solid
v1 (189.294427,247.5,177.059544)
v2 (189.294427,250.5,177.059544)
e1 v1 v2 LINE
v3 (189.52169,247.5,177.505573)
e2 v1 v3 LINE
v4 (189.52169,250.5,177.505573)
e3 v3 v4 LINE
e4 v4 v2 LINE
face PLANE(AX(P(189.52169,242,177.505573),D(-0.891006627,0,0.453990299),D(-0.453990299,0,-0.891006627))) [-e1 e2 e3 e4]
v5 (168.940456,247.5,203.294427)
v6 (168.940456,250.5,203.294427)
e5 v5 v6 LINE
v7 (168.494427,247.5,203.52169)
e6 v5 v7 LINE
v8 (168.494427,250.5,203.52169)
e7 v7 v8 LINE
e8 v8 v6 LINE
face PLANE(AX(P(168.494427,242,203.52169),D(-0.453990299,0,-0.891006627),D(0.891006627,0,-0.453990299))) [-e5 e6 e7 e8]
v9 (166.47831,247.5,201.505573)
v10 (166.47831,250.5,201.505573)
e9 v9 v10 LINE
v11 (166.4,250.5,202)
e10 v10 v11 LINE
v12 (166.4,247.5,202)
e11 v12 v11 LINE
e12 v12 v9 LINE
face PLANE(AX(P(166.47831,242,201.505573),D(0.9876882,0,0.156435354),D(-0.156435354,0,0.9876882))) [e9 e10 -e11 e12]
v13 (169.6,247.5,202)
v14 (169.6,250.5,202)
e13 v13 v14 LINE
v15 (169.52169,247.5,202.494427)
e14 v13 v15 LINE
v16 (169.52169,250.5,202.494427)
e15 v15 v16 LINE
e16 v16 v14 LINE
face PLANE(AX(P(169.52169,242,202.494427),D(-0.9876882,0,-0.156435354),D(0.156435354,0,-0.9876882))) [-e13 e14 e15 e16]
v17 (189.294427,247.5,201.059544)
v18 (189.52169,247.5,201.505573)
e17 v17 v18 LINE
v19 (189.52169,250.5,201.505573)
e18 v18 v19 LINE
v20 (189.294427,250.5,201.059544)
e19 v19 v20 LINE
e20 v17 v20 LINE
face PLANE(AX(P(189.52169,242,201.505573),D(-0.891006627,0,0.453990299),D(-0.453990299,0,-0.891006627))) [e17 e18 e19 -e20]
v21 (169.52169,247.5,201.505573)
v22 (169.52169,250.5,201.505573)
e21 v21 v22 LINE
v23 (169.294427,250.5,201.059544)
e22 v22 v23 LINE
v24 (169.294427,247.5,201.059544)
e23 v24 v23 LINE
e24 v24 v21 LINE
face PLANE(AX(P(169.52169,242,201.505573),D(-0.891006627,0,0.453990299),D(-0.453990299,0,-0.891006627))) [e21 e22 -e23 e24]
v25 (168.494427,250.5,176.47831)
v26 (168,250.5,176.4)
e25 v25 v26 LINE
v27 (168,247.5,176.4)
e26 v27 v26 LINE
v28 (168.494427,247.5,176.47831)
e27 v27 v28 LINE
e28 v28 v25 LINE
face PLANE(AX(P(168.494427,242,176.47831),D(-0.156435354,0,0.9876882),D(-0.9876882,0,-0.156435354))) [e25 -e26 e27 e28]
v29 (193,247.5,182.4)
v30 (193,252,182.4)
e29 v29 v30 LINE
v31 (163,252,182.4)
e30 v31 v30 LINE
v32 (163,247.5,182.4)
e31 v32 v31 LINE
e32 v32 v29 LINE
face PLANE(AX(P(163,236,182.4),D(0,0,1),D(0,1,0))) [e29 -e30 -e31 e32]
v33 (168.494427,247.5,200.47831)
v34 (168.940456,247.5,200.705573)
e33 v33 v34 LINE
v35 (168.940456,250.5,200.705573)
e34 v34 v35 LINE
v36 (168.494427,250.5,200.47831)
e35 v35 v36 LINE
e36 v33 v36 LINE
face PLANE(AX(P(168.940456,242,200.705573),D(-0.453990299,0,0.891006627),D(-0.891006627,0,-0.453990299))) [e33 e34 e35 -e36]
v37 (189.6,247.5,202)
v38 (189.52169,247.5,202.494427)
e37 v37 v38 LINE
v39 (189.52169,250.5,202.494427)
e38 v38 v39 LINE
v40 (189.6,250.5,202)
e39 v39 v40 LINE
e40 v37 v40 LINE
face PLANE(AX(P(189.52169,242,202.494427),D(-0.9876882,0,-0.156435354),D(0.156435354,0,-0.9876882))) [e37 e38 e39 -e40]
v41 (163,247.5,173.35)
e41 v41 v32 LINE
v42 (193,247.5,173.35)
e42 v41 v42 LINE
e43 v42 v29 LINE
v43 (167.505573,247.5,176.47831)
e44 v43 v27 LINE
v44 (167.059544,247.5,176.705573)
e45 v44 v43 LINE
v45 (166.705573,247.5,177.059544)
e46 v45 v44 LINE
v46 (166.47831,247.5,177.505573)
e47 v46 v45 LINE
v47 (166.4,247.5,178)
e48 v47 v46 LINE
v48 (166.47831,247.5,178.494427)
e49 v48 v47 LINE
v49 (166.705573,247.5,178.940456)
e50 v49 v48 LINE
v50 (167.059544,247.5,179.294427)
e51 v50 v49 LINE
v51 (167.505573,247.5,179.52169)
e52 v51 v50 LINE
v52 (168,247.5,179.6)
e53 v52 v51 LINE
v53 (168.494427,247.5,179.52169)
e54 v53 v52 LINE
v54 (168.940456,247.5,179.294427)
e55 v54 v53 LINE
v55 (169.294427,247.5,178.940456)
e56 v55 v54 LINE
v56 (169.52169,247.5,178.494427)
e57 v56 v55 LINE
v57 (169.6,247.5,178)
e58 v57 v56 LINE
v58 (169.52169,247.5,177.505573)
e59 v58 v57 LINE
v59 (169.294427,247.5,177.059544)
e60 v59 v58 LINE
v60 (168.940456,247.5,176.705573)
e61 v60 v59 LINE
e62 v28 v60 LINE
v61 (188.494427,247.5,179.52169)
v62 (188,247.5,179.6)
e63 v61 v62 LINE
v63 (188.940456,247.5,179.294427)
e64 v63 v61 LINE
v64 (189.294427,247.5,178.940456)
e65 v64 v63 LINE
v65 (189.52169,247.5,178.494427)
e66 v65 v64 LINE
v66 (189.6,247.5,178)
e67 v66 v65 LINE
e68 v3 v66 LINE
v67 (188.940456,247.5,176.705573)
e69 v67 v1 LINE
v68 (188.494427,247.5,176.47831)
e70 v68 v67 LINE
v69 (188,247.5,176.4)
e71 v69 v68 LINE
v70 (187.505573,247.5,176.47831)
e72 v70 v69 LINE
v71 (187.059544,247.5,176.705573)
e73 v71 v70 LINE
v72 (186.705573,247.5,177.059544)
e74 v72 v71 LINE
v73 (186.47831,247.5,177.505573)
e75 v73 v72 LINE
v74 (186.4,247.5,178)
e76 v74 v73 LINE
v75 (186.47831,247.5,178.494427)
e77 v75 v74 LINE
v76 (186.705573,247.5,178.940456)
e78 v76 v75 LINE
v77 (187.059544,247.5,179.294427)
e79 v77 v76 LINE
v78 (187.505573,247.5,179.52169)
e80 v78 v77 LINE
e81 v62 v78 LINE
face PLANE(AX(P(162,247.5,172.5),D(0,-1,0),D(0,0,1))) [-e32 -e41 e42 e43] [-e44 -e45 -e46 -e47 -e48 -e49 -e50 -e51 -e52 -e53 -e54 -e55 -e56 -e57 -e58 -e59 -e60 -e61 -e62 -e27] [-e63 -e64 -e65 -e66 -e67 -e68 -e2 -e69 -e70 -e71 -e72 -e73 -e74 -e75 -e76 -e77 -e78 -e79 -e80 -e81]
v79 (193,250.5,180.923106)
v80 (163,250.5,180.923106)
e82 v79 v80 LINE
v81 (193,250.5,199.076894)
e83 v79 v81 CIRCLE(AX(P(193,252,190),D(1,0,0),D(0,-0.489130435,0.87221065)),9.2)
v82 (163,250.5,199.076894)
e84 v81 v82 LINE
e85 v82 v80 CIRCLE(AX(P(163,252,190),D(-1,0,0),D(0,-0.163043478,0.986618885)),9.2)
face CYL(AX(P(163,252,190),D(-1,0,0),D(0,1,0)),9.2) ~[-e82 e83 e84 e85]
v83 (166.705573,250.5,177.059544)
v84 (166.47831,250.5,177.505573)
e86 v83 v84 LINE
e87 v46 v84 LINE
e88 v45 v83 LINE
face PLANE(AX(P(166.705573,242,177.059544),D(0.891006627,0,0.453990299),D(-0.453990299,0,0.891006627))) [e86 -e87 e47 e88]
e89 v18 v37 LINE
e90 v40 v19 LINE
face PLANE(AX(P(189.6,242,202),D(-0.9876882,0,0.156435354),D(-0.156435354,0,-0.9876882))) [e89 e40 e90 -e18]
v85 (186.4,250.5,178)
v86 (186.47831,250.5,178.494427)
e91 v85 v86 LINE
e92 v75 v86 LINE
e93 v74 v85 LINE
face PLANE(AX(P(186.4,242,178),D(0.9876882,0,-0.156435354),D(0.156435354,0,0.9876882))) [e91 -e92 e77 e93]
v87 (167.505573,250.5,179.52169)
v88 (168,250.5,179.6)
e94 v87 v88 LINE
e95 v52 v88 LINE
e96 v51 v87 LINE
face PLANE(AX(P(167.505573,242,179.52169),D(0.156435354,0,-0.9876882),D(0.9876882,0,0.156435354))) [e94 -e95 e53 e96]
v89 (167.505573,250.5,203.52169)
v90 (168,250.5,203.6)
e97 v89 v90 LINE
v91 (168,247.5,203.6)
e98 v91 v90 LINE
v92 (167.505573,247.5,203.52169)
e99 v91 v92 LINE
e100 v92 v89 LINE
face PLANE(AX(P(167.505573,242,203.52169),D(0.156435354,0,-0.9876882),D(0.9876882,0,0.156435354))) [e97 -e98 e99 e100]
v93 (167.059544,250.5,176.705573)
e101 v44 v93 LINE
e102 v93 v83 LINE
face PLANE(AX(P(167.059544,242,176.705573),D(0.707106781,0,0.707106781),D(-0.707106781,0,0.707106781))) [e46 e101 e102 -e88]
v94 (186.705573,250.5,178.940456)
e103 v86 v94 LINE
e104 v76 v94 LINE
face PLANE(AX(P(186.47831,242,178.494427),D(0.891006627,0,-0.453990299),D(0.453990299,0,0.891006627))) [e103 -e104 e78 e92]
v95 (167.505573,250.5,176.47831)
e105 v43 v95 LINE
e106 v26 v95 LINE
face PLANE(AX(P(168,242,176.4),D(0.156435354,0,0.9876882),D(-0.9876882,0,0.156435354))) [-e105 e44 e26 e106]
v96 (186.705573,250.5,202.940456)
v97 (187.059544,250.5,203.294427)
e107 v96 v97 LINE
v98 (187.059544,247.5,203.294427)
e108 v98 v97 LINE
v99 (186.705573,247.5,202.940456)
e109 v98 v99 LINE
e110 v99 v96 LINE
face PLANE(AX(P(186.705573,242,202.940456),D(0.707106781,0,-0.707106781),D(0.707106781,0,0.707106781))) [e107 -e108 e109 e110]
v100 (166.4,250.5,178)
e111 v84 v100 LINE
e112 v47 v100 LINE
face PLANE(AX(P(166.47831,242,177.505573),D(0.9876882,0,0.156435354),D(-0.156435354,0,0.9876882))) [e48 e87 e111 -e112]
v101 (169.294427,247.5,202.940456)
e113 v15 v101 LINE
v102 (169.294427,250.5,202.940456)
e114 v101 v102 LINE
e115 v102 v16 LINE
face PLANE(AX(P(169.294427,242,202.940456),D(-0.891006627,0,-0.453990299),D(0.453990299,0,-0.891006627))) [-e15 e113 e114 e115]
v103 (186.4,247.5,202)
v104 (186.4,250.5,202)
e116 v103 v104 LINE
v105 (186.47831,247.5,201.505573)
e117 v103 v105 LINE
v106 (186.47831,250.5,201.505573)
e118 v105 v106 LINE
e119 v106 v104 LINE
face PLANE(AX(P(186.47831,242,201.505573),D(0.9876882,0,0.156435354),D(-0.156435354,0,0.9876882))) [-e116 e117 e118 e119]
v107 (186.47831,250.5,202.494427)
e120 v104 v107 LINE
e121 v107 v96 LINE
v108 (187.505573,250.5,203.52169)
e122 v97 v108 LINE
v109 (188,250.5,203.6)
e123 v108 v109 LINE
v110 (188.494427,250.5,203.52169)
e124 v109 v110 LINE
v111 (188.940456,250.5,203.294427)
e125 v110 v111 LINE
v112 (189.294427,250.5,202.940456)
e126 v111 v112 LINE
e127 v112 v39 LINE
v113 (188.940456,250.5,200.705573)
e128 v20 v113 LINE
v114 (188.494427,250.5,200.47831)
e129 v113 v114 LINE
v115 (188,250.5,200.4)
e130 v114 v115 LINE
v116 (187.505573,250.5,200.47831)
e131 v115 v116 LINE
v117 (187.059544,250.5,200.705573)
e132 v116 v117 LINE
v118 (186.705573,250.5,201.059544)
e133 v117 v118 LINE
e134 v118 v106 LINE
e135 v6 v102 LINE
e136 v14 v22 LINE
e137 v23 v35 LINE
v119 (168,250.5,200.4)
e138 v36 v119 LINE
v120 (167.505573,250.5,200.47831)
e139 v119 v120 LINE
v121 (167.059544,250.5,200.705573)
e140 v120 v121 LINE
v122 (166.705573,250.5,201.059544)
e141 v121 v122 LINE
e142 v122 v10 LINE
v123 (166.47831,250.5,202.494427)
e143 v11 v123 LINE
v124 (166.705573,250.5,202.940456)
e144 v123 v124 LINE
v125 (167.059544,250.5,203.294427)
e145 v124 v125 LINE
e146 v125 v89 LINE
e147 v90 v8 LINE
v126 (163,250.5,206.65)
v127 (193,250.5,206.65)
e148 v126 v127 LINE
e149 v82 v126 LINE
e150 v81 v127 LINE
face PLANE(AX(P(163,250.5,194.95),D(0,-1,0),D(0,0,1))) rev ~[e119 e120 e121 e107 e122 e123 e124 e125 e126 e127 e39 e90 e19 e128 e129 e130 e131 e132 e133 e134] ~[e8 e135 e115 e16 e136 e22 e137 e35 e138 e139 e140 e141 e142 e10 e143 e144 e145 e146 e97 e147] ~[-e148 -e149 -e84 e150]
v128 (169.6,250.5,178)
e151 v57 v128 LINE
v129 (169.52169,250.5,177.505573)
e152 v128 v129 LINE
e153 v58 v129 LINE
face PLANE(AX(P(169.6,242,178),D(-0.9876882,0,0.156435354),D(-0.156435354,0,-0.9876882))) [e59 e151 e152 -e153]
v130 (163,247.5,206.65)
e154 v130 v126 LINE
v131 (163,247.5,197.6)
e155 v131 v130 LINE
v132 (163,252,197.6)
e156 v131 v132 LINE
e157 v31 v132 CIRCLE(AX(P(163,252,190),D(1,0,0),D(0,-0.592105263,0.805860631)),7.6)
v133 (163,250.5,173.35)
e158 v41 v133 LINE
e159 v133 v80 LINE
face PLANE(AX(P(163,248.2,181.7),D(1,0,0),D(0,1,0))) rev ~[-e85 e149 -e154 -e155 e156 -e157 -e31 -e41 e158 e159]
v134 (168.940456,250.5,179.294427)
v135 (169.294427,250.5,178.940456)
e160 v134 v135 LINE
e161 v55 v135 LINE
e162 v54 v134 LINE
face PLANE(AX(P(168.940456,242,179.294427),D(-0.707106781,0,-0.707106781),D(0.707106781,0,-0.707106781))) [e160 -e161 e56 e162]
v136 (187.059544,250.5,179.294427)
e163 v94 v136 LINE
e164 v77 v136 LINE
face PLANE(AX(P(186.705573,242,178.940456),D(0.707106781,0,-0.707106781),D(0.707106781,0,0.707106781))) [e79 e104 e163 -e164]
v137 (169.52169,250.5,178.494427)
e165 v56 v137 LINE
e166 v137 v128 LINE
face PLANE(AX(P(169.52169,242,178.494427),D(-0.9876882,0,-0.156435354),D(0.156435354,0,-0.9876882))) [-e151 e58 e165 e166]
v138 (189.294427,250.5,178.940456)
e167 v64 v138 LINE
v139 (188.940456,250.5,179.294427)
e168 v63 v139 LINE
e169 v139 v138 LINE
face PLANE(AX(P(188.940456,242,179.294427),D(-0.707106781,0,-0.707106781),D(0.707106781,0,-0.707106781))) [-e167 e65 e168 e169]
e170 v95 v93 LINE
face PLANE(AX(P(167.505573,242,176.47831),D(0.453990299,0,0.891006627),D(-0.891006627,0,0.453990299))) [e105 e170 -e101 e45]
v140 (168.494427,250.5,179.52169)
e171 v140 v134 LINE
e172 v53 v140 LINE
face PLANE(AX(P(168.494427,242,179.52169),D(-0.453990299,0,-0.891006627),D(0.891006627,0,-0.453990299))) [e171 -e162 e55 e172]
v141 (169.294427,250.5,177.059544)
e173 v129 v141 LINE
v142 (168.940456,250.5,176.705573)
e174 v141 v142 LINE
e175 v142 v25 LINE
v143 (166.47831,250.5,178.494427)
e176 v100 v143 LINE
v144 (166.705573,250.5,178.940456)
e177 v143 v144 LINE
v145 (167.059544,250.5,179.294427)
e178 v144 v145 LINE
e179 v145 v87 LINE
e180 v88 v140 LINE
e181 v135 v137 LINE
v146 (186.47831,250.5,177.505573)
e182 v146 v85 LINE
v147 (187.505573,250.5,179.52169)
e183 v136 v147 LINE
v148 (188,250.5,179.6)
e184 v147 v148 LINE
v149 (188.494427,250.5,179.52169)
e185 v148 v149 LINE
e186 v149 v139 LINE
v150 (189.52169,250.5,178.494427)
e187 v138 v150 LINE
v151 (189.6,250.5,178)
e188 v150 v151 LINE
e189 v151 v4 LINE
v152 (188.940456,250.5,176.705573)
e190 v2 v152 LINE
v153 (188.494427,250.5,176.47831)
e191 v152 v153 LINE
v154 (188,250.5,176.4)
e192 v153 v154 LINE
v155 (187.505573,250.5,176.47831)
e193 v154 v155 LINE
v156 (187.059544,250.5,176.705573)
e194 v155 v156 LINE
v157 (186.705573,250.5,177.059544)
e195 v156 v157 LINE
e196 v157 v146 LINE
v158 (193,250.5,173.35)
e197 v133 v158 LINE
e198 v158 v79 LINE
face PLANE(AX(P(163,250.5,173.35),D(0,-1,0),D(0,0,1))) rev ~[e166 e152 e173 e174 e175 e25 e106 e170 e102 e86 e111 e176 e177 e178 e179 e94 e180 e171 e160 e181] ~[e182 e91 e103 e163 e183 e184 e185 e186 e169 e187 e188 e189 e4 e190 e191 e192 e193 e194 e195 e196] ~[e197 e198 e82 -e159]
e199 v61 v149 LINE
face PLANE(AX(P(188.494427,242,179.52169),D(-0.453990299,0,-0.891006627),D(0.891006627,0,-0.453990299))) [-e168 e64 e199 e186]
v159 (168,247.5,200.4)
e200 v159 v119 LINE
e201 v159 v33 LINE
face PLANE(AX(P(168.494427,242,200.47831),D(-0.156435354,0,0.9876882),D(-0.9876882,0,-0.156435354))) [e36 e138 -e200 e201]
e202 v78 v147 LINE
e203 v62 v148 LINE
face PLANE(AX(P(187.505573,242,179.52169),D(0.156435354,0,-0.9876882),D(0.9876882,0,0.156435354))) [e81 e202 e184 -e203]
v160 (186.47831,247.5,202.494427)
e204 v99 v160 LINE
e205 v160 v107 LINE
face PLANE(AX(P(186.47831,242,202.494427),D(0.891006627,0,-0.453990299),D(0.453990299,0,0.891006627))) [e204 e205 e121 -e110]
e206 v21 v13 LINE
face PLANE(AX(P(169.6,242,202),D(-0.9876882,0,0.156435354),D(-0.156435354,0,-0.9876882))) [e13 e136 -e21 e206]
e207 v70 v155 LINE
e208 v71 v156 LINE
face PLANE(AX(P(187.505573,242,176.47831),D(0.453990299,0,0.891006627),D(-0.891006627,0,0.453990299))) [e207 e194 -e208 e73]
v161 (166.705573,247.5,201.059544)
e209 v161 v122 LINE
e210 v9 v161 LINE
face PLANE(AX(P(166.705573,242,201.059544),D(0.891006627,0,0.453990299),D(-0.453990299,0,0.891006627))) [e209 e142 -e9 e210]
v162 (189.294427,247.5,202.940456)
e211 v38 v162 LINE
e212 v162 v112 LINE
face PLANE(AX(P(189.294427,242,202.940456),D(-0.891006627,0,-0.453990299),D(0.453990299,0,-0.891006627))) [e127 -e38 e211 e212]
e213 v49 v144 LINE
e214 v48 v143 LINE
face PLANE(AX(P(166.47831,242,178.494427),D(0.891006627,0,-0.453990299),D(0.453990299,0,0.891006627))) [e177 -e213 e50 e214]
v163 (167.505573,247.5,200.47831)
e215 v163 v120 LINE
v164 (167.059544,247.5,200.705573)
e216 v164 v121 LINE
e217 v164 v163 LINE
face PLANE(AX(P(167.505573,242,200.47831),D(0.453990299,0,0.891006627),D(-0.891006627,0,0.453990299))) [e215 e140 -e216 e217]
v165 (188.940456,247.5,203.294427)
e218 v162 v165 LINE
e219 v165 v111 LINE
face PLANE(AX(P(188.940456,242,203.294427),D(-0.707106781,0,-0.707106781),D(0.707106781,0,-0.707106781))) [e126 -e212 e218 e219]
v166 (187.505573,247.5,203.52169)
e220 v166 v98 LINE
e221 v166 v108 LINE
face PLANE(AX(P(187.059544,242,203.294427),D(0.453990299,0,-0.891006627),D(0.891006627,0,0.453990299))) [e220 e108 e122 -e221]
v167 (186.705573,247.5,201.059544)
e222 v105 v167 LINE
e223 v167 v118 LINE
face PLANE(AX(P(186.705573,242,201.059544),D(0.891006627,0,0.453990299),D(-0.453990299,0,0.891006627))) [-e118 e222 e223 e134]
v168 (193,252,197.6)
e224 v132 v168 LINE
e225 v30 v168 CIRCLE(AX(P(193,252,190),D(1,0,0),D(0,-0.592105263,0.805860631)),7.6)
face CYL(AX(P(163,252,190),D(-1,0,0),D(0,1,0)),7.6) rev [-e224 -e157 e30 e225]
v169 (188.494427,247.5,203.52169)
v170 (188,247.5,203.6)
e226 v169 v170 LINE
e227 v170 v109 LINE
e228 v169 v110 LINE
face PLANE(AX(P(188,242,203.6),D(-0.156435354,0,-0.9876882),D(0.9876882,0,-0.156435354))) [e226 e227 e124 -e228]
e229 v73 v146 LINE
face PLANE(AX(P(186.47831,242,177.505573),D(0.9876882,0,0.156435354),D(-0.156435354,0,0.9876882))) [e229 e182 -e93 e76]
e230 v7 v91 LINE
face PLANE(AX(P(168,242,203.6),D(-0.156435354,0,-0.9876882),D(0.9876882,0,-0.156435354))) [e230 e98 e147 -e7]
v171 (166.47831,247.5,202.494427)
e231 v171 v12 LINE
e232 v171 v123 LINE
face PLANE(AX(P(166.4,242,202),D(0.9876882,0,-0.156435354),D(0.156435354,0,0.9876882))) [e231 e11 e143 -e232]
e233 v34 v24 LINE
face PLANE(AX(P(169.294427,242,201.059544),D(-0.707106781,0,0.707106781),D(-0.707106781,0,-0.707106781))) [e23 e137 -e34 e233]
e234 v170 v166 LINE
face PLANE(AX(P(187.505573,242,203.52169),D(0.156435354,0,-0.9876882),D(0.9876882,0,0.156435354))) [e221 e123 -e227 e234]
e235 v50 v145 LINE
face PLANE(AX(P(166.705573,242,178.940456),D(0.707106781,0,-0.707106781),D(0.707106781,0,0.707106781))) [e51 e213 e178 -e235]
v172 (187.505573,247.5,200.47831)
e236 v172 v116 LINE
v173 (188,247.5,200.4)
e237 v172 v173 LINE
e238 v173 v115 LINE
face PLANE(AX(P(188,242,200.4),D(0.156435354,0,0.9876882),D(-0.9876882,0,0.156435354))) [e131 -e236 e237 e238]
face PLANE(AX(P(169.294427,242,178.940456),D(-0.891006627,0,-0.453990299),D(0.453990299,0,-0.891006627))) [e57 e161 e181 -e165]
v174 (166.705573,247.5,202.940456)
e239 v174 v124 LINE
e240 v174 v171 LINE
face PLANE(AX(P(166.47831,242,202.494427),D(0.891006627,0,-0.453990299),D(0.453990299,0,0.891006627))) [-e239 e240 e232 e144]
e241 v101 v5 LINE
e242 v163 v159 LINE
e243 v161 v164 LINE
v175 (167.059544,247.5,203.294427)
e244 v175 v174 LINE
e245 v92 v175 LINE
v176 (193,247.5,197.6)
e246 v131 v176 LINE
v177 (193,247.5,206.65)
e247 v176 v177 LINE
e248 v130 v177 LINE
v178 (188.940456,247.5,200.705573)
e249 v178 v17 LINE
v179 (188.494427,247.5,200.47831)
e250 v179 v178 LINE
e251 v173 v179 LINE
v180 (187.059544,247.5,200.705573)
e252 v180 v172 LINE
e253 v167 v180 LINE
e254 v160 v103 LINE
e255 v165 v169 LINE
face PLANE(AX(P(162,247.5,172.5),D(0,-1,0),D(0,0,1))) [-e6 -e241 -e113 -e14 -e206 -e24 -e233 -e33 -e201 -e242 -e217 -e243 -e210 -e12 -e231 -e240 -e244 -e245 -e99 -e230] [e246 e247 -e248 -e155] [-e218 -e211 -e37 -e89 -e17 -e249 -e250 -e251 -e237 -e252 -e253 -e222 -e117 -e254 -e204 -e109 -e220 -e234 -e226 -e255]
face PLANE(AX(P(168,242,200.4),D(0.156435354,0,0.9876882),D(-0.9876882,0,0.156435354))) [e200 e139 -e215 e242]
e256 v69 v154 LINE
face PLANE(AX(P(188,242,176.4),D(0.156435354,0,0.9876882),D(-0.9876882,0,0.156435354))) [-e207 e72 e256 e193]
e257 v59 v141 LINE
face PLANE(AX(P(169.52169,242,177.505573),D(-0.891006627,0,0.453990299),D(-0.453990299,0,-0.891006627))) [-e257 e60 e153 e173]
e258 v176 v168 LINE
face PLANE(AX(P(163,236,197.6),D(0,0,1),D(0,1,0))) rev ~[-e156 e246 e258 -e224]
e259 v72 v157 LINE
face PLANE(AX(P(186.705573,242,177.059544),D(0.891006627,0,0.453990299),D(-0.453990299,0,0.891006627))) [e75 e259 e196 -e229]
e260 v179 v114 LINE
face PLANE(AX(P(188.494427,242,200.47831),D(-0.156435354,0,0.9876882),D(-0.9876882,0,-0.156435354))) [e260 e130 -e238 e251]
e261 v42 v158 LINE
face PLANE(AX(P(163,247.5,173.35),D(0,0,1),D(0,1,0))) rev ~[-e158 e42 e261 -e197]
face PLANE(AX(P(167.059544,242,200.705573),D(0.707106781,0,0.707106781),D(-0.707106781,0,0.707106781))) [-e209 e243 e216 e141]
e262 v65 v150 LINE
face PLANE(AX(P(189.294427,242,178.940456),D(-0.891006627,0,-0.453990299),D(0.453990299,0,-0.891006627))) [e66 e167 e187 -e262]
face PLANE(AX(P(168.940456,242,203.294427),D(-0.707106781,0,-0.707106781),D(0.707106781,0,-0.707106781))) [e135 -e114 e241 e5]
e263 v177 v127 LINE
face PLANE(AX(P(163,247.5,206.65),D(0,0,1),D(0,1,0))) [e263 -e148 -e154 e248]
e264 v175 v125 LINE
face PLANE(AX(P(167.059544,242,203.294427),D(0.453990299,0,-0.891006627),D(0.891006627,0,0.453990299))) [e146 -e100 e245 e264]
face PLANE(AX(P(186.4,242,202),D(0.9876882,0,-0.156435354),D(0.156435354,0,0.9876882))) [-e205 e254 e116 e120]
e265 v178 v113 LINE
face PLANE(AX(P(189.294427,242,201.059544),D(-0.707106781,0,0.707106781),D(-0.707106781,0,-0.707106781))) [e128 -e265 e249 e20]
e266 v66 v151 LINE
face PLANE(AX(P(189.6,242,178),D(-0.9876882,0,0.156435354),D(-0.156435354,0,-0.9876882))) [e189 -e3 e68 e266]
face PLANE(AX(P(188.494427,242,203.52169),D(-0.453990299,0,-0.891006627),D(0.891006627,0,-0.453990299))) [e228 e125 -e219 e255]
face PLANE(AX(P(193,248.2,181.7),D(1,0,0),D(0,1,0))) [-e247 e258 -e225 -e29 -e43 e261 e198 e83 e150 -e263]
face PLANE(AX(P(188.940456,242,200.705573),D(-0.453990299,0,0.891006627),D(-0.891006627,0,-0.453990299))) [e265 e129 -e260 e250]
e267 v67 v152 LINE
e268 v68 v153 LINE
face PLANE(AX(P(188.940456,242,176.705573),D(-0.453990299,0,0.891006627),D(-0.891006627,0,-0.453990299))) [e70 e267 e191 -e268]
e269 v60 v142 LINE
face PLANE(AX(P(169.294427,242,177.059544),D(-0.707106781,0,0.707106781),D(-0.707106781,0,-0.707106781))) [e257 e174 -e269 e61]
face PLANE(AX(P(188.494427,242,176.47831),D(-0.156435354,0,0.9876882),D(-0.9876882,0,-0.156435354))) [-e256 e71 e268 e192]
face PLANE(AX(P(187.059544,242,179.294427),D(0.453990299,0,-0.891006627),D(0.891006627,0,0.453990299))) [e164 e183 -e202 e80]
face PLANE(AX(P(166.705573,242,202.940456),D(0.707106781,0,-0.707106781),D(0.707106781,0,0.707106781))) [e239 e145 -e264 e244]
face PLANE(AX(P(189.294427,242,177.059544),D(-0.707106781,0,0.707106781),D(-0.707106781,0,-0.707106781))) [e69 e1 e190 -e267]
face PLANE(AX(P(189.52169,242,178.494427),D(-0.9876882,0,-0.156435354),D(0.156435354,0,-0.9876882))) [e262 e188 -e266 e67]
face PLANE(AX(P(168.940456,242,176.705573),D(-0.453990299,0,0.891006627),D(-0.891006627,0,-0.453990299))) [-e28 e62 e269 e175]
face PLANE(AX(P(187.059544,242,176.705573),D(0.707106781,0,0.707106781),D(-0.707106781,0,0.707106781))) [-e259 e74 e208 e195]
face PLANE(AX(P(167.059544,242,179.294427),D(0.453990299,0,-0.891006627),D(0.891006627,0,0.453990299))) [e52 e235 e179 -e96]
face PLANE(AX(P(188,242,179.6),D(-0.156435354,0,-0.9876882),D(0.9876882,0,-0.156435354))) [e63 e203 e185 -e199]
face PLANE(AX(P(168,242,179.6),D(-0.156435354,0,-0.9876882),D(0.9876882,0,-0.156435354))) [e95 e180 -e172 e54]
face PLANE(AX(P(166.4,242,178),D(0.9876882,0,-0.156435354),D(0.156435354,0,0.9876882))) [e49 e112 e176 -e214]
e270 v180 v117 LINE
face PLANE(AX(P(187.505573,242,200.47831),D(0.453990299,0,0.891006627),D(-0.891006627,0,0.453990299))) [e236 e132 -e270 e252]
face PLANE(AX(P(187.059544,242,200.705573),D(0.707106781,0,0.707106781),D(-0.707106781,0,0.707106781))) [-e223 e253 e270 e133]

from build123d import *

# Parameters (mm, degrees)
PRISM058_DEPTH                = 10
PRISM058_PITCH_ANGLE          = 90
PRISM059_DEPTH                = 10
PRISM059_PITCH_ANGLE          = 90
PRISM060_DEPTH                = 10
PRISM060_PITCH_ANGLE          = 90
PRISM061_DEPTH                = 10
PRISM061_PITCH_ANGLE          = 90
CUBE064_W                     = 5
CUBE064_H                     = 35
CUBE064_DEPTH                 = 32
CUBE063_W                     = 16
CUBE063_H                     = 15.2
CUBE063_DEPTH                 = 30
CUBE059_W                     = 3
CUBE059_H                     = 11.7
CUBE059_DEPTH                 = 30
CUBE060_W                     = 3
CUBE060_H                     = 11.7
CUBE060_DEPTH                 = 30
CUBE061_W                     = 1.6
CUBE061_H                     = 1.6
CUBE061_DEPTH                 = 30
CUBE062_W                     = 1.6
CUBE062_H                     = 1.6
CUBE062_DEPTH                 = 30
CYLINDER015_R                 = 7.6
CYLINDER015_DEPTH             = 30
CYLINDER014_R                 = 9.2
CYLINDER014_DEPTH             = 30
DIFFERENCE044_ROLL_ANGLE      = 90
DIFFERENCE044_PLACEMENT_ANGLE = 90


with BuildPart() as prism058:
    # prism058 → prism058 (new body)
    with BuildSketch(Plane.XY):
        Polygon((1.6, 0), (1.52169, 0.494427), (1.294427, 0.940456), (0.940456, 1.294427), (0.494427, 1.52169), (0, 1.6), (-0.494427, 1.52169), (-0.940456, 1.294427), (-1.294427, 0.940456), (-1.52169, 0.494427), (-1.6, 0), (-1.52169, -0.494427), (-1.294427, -0.940456), (-0.940456, -1.294427), (-0.494427, -1.52169), (0, -1.6), (0.494427, -1.52169), (0.940456, -1.294427), (1.294427, -0.940456), (1.52169, -0.494427), align=None)
    extrude(amount=PRISM058_DEPTH)


with BuildPart() as prism058_1:
    # prism058 pitch: moved
    add(prism058.part.rotate(Axis((0, 0, 0), (0, 1, 0)), PRISM058_PITCH_ANGLE))


with BuildPart() as prism058_2:
    # prism058 placement: moved
    add(prism058_1.part.moved(Location((-10, 12, 10))))


with BuildPart() as prism059:
    # prism059 → prism059 (new body)
    with BuildSketch(Plane.XY):
        Polygon((1.6, 0), (1.52169, 0.494427), (1.294427, 0.940456), (0.940456, 1.294427), (0.494427, 1.52169), (0, 1.6), (-0.494427, 1.52169), (-0.940456, 1.294427), (-1.294427, 0.940456), (-1.52169, 0.494427), (-1.6, 0), (-1.52169, -0.494427), (-1.294427, -0.940456), (-0.940456, -1.294427), (-0.494427, -1.52169), (0, -1.6), (0.494427, -1.52169), (0.940456, -1.294427), (1.294427, -0.940456), (1.52169, -0.494427), align=None)
    extrude(amount=PRISM059_DEPTH)


with BuildPart() as prism059_1:
    # prism059 pitch: moved
    add(prism059.part.rotate(Axis((0, 0, 0), (0, 1, 0)), PRISM059_PITCH_ANGLE))


with BuildPart() as prism059_2:
    # prism059 placement: moved
    add(prism059_1.part.moved(Location((-10, 12, -10))))


with BuildPart() as prism060:
    # prism060 → prism060 (new body)
    with BuildSketch(Plane.XY):
        Polygon((1.6, 0), (1.52169, 0.494427), (1.294427, 0.940456), (0.940456, 1.294427), (0.494427, 1.52169), (0, 1.6), (-0.494427, 1.52169), (-0.940456, 1.294427), (-1.294427, 0.940456), (-1.52169, 0.494427), (-1.6, 0), (-1.52169, -0.494427), (-1.294427, -0.940456), (-0.940456, -1.294427), (-0.494427, -1.52169), (0, -1.6), (0.494427, -1.52169), (0.940456, -1.294427), (1.294427, -0.940456), (1.52169, -0.494427), align=None)
    extrude(amount=PRISM060_DEPTH)


with BuildPart() as prism060_1:
    # prism060 pitch: moved
    add(prism060.part.rotate(Axis((0, 0, 0), (0, 1, 0)), PRISM060_PITCH_ANGLE))


with BuildPart() as prism060_2:
    # prism060 placement: moved
    add(prism060_1.part.moved(Location((-10, -12, 10))))


with BuildPart() as prism061:
    # prism061 → prism061 (new body)
    with BuildSketch(Plane.XY):
        Polygon((1.6, 0), (1.52169, 0.494427), (1.294427, 0.940456), (0.940456, 1.294427), (0.494427, 1.52169), (0, 1.6), (-0.494427, 1.52169), (-0.940456, 1.294427), (-1.294427, 0.940456), (-1.52169, 0.494427), (-1.6, 0), (-1.52169, -0.494427), (-1.294427, -0.940456), (-0.940456, -1.294427), (-0.494427, -1.52169), (0, -1.6), (0.494427, -1.52169), (0.940456, -1.294427), (1.294427, -0.940456), (1.52169, -0.494427), align=None)
    extrude(amount=PRISM061_DEPTH)


with BuildPart() as prism061_1:
    # prism061 pitch: moved
    add(prism061.part.rotate(Axis((0, 0, 0), (0, 1, 0)), PRISM061_PITCH_ANGLE))


with BuildPart() as prism061_2:
    # prism061 placement: moved
    add(prism061_1.part.moved(Location((-10, -12, -10))))


with BuildPart() as cube064:
    # cube064 → cube064 (new body)
    with BuildSketch(Plane(origin=(-9.5, -17.5, -16), x_dir=(1, 0, 0), z_dir=(0, 0, 1))):
        with Locations((2.5, 17.5)):
            Rectangle(CUBE064_W, CUBE064_H)
    extrude(amount=CUBE064_DEPTH)


with BuildPart() as union032:
    # cube063 → cube063 (new body)
    with BuildSketch(Plane(origin=(-16, -7.6, -15), x_dir=(1, 0, 0), z_dir=(0, 0, 1))):
        with Locations((8, 7.6)):
            Rectangle(CUBE063_W, CUBE063_H)
    extrude(amount=CUBE063_DEPTH)

    # union032: union prism058, prism059, prism060, prism061, cube064
    add(prism058_2.part)
    add(prism059_2.part)
    add(prism060_2.part)
    add(prism061_2.part)
    add(cube064.part)


with BuildPart() as cube059:
    # cube059 → cube059 (new body)
    with BuildSketch(Plane(origin=(-4.5, 4.95, -15), x_dir=(1, 0, 0), z_dir=(0, 0, 1))):
        with Locations((1.5, 5.85)):
            Rectangle(CUBE059_W, CUBE059_H)
    extrude(amount=CUBE059_DEPTH)


with BuildPart() as cube060:
    # cube060 → cube060 (new body)
    with BuildSketch(Plane(origin=(-4.5, -16.65, -15), x_dir=(1, 0, 0), z_dir=(0, 0, 1))):
        with Locations((1.5, 5.85)):
            Rectangle(CUBE060_W, CUBE060_H)
    extrude(amount=CUBE060_DEPTH)


with BuildPart() as cube061:
    # cube061 → cube061 (new body)
    with BuildSketch(Plane(origin=(-4.6, 7.5, -15), x_dir=(1, 0, 0), z_dir=(0, 0, 1))):
        with Locations((0.8, 0.8)):
            Rectangle(CUBE061_W, CUBE061_H)
    extrude(amount=CUBE061_DEPTH)


with BuildPart() as cube062:
    # cube062 → cube062 (new body)
    with BuildSketch(Plane(origin=(-4.6, -9.1, -15), x_dir=(1, 0, 0), z_dir=(0, 0, 1))):
        with Locations((0.8, 0.8)):
            Rectangle(CUBE062_W, CUBE062_H)
    extrude(amount=CUBE062_DEPTH)


with BuildPart() as cylinder015:
    # cylinder015 → cylinder015 (new body)
    with BuildSketch(Plane.XY.offset(-15)):
        Circle(CYLINDER015_R)
    extrude(amount=CYLINDER015_DEPTH)


with BuildPart() as difference044:
    # cylinder014 → cylinder014 (new body)
    with BuildSketch(Plane.XY.offset(-15)):
        Circle(CYLINDER014_R)
    extrude(amount=CYLINDER014_DEPTH)

    # difference043: cut cylinder015
    add(cylinder015.part, mode=Mode.SUBTRACT)

    # union031: union cube059, cube060, cube061, cube062
    add(cube059.part)
    add(cube060.part)
    add(cube061.part)
    add(cube062.part)

    # difference044: cut union032
    add(union032.part, mode=Mode.SUBTRACT)


with BuildPart() as difference044_1:
    # difference044 roll: moved
    add(difference044.part.rotate(Axis((0, 0, 0), (1, 0, 0)), DIFFERENCE044_ROLL_ANGLE))


with BuildPart() as difference044_2:
    # difference044 placement: moved
    add(difference044_1.part.moved(Location((178, 252, 190))).rotate(Axis((178, 252, 190), (0, 0, 1)), DIFFERENCE044_PLACEMENT_ANGLE))


solid = difference044_2.part
